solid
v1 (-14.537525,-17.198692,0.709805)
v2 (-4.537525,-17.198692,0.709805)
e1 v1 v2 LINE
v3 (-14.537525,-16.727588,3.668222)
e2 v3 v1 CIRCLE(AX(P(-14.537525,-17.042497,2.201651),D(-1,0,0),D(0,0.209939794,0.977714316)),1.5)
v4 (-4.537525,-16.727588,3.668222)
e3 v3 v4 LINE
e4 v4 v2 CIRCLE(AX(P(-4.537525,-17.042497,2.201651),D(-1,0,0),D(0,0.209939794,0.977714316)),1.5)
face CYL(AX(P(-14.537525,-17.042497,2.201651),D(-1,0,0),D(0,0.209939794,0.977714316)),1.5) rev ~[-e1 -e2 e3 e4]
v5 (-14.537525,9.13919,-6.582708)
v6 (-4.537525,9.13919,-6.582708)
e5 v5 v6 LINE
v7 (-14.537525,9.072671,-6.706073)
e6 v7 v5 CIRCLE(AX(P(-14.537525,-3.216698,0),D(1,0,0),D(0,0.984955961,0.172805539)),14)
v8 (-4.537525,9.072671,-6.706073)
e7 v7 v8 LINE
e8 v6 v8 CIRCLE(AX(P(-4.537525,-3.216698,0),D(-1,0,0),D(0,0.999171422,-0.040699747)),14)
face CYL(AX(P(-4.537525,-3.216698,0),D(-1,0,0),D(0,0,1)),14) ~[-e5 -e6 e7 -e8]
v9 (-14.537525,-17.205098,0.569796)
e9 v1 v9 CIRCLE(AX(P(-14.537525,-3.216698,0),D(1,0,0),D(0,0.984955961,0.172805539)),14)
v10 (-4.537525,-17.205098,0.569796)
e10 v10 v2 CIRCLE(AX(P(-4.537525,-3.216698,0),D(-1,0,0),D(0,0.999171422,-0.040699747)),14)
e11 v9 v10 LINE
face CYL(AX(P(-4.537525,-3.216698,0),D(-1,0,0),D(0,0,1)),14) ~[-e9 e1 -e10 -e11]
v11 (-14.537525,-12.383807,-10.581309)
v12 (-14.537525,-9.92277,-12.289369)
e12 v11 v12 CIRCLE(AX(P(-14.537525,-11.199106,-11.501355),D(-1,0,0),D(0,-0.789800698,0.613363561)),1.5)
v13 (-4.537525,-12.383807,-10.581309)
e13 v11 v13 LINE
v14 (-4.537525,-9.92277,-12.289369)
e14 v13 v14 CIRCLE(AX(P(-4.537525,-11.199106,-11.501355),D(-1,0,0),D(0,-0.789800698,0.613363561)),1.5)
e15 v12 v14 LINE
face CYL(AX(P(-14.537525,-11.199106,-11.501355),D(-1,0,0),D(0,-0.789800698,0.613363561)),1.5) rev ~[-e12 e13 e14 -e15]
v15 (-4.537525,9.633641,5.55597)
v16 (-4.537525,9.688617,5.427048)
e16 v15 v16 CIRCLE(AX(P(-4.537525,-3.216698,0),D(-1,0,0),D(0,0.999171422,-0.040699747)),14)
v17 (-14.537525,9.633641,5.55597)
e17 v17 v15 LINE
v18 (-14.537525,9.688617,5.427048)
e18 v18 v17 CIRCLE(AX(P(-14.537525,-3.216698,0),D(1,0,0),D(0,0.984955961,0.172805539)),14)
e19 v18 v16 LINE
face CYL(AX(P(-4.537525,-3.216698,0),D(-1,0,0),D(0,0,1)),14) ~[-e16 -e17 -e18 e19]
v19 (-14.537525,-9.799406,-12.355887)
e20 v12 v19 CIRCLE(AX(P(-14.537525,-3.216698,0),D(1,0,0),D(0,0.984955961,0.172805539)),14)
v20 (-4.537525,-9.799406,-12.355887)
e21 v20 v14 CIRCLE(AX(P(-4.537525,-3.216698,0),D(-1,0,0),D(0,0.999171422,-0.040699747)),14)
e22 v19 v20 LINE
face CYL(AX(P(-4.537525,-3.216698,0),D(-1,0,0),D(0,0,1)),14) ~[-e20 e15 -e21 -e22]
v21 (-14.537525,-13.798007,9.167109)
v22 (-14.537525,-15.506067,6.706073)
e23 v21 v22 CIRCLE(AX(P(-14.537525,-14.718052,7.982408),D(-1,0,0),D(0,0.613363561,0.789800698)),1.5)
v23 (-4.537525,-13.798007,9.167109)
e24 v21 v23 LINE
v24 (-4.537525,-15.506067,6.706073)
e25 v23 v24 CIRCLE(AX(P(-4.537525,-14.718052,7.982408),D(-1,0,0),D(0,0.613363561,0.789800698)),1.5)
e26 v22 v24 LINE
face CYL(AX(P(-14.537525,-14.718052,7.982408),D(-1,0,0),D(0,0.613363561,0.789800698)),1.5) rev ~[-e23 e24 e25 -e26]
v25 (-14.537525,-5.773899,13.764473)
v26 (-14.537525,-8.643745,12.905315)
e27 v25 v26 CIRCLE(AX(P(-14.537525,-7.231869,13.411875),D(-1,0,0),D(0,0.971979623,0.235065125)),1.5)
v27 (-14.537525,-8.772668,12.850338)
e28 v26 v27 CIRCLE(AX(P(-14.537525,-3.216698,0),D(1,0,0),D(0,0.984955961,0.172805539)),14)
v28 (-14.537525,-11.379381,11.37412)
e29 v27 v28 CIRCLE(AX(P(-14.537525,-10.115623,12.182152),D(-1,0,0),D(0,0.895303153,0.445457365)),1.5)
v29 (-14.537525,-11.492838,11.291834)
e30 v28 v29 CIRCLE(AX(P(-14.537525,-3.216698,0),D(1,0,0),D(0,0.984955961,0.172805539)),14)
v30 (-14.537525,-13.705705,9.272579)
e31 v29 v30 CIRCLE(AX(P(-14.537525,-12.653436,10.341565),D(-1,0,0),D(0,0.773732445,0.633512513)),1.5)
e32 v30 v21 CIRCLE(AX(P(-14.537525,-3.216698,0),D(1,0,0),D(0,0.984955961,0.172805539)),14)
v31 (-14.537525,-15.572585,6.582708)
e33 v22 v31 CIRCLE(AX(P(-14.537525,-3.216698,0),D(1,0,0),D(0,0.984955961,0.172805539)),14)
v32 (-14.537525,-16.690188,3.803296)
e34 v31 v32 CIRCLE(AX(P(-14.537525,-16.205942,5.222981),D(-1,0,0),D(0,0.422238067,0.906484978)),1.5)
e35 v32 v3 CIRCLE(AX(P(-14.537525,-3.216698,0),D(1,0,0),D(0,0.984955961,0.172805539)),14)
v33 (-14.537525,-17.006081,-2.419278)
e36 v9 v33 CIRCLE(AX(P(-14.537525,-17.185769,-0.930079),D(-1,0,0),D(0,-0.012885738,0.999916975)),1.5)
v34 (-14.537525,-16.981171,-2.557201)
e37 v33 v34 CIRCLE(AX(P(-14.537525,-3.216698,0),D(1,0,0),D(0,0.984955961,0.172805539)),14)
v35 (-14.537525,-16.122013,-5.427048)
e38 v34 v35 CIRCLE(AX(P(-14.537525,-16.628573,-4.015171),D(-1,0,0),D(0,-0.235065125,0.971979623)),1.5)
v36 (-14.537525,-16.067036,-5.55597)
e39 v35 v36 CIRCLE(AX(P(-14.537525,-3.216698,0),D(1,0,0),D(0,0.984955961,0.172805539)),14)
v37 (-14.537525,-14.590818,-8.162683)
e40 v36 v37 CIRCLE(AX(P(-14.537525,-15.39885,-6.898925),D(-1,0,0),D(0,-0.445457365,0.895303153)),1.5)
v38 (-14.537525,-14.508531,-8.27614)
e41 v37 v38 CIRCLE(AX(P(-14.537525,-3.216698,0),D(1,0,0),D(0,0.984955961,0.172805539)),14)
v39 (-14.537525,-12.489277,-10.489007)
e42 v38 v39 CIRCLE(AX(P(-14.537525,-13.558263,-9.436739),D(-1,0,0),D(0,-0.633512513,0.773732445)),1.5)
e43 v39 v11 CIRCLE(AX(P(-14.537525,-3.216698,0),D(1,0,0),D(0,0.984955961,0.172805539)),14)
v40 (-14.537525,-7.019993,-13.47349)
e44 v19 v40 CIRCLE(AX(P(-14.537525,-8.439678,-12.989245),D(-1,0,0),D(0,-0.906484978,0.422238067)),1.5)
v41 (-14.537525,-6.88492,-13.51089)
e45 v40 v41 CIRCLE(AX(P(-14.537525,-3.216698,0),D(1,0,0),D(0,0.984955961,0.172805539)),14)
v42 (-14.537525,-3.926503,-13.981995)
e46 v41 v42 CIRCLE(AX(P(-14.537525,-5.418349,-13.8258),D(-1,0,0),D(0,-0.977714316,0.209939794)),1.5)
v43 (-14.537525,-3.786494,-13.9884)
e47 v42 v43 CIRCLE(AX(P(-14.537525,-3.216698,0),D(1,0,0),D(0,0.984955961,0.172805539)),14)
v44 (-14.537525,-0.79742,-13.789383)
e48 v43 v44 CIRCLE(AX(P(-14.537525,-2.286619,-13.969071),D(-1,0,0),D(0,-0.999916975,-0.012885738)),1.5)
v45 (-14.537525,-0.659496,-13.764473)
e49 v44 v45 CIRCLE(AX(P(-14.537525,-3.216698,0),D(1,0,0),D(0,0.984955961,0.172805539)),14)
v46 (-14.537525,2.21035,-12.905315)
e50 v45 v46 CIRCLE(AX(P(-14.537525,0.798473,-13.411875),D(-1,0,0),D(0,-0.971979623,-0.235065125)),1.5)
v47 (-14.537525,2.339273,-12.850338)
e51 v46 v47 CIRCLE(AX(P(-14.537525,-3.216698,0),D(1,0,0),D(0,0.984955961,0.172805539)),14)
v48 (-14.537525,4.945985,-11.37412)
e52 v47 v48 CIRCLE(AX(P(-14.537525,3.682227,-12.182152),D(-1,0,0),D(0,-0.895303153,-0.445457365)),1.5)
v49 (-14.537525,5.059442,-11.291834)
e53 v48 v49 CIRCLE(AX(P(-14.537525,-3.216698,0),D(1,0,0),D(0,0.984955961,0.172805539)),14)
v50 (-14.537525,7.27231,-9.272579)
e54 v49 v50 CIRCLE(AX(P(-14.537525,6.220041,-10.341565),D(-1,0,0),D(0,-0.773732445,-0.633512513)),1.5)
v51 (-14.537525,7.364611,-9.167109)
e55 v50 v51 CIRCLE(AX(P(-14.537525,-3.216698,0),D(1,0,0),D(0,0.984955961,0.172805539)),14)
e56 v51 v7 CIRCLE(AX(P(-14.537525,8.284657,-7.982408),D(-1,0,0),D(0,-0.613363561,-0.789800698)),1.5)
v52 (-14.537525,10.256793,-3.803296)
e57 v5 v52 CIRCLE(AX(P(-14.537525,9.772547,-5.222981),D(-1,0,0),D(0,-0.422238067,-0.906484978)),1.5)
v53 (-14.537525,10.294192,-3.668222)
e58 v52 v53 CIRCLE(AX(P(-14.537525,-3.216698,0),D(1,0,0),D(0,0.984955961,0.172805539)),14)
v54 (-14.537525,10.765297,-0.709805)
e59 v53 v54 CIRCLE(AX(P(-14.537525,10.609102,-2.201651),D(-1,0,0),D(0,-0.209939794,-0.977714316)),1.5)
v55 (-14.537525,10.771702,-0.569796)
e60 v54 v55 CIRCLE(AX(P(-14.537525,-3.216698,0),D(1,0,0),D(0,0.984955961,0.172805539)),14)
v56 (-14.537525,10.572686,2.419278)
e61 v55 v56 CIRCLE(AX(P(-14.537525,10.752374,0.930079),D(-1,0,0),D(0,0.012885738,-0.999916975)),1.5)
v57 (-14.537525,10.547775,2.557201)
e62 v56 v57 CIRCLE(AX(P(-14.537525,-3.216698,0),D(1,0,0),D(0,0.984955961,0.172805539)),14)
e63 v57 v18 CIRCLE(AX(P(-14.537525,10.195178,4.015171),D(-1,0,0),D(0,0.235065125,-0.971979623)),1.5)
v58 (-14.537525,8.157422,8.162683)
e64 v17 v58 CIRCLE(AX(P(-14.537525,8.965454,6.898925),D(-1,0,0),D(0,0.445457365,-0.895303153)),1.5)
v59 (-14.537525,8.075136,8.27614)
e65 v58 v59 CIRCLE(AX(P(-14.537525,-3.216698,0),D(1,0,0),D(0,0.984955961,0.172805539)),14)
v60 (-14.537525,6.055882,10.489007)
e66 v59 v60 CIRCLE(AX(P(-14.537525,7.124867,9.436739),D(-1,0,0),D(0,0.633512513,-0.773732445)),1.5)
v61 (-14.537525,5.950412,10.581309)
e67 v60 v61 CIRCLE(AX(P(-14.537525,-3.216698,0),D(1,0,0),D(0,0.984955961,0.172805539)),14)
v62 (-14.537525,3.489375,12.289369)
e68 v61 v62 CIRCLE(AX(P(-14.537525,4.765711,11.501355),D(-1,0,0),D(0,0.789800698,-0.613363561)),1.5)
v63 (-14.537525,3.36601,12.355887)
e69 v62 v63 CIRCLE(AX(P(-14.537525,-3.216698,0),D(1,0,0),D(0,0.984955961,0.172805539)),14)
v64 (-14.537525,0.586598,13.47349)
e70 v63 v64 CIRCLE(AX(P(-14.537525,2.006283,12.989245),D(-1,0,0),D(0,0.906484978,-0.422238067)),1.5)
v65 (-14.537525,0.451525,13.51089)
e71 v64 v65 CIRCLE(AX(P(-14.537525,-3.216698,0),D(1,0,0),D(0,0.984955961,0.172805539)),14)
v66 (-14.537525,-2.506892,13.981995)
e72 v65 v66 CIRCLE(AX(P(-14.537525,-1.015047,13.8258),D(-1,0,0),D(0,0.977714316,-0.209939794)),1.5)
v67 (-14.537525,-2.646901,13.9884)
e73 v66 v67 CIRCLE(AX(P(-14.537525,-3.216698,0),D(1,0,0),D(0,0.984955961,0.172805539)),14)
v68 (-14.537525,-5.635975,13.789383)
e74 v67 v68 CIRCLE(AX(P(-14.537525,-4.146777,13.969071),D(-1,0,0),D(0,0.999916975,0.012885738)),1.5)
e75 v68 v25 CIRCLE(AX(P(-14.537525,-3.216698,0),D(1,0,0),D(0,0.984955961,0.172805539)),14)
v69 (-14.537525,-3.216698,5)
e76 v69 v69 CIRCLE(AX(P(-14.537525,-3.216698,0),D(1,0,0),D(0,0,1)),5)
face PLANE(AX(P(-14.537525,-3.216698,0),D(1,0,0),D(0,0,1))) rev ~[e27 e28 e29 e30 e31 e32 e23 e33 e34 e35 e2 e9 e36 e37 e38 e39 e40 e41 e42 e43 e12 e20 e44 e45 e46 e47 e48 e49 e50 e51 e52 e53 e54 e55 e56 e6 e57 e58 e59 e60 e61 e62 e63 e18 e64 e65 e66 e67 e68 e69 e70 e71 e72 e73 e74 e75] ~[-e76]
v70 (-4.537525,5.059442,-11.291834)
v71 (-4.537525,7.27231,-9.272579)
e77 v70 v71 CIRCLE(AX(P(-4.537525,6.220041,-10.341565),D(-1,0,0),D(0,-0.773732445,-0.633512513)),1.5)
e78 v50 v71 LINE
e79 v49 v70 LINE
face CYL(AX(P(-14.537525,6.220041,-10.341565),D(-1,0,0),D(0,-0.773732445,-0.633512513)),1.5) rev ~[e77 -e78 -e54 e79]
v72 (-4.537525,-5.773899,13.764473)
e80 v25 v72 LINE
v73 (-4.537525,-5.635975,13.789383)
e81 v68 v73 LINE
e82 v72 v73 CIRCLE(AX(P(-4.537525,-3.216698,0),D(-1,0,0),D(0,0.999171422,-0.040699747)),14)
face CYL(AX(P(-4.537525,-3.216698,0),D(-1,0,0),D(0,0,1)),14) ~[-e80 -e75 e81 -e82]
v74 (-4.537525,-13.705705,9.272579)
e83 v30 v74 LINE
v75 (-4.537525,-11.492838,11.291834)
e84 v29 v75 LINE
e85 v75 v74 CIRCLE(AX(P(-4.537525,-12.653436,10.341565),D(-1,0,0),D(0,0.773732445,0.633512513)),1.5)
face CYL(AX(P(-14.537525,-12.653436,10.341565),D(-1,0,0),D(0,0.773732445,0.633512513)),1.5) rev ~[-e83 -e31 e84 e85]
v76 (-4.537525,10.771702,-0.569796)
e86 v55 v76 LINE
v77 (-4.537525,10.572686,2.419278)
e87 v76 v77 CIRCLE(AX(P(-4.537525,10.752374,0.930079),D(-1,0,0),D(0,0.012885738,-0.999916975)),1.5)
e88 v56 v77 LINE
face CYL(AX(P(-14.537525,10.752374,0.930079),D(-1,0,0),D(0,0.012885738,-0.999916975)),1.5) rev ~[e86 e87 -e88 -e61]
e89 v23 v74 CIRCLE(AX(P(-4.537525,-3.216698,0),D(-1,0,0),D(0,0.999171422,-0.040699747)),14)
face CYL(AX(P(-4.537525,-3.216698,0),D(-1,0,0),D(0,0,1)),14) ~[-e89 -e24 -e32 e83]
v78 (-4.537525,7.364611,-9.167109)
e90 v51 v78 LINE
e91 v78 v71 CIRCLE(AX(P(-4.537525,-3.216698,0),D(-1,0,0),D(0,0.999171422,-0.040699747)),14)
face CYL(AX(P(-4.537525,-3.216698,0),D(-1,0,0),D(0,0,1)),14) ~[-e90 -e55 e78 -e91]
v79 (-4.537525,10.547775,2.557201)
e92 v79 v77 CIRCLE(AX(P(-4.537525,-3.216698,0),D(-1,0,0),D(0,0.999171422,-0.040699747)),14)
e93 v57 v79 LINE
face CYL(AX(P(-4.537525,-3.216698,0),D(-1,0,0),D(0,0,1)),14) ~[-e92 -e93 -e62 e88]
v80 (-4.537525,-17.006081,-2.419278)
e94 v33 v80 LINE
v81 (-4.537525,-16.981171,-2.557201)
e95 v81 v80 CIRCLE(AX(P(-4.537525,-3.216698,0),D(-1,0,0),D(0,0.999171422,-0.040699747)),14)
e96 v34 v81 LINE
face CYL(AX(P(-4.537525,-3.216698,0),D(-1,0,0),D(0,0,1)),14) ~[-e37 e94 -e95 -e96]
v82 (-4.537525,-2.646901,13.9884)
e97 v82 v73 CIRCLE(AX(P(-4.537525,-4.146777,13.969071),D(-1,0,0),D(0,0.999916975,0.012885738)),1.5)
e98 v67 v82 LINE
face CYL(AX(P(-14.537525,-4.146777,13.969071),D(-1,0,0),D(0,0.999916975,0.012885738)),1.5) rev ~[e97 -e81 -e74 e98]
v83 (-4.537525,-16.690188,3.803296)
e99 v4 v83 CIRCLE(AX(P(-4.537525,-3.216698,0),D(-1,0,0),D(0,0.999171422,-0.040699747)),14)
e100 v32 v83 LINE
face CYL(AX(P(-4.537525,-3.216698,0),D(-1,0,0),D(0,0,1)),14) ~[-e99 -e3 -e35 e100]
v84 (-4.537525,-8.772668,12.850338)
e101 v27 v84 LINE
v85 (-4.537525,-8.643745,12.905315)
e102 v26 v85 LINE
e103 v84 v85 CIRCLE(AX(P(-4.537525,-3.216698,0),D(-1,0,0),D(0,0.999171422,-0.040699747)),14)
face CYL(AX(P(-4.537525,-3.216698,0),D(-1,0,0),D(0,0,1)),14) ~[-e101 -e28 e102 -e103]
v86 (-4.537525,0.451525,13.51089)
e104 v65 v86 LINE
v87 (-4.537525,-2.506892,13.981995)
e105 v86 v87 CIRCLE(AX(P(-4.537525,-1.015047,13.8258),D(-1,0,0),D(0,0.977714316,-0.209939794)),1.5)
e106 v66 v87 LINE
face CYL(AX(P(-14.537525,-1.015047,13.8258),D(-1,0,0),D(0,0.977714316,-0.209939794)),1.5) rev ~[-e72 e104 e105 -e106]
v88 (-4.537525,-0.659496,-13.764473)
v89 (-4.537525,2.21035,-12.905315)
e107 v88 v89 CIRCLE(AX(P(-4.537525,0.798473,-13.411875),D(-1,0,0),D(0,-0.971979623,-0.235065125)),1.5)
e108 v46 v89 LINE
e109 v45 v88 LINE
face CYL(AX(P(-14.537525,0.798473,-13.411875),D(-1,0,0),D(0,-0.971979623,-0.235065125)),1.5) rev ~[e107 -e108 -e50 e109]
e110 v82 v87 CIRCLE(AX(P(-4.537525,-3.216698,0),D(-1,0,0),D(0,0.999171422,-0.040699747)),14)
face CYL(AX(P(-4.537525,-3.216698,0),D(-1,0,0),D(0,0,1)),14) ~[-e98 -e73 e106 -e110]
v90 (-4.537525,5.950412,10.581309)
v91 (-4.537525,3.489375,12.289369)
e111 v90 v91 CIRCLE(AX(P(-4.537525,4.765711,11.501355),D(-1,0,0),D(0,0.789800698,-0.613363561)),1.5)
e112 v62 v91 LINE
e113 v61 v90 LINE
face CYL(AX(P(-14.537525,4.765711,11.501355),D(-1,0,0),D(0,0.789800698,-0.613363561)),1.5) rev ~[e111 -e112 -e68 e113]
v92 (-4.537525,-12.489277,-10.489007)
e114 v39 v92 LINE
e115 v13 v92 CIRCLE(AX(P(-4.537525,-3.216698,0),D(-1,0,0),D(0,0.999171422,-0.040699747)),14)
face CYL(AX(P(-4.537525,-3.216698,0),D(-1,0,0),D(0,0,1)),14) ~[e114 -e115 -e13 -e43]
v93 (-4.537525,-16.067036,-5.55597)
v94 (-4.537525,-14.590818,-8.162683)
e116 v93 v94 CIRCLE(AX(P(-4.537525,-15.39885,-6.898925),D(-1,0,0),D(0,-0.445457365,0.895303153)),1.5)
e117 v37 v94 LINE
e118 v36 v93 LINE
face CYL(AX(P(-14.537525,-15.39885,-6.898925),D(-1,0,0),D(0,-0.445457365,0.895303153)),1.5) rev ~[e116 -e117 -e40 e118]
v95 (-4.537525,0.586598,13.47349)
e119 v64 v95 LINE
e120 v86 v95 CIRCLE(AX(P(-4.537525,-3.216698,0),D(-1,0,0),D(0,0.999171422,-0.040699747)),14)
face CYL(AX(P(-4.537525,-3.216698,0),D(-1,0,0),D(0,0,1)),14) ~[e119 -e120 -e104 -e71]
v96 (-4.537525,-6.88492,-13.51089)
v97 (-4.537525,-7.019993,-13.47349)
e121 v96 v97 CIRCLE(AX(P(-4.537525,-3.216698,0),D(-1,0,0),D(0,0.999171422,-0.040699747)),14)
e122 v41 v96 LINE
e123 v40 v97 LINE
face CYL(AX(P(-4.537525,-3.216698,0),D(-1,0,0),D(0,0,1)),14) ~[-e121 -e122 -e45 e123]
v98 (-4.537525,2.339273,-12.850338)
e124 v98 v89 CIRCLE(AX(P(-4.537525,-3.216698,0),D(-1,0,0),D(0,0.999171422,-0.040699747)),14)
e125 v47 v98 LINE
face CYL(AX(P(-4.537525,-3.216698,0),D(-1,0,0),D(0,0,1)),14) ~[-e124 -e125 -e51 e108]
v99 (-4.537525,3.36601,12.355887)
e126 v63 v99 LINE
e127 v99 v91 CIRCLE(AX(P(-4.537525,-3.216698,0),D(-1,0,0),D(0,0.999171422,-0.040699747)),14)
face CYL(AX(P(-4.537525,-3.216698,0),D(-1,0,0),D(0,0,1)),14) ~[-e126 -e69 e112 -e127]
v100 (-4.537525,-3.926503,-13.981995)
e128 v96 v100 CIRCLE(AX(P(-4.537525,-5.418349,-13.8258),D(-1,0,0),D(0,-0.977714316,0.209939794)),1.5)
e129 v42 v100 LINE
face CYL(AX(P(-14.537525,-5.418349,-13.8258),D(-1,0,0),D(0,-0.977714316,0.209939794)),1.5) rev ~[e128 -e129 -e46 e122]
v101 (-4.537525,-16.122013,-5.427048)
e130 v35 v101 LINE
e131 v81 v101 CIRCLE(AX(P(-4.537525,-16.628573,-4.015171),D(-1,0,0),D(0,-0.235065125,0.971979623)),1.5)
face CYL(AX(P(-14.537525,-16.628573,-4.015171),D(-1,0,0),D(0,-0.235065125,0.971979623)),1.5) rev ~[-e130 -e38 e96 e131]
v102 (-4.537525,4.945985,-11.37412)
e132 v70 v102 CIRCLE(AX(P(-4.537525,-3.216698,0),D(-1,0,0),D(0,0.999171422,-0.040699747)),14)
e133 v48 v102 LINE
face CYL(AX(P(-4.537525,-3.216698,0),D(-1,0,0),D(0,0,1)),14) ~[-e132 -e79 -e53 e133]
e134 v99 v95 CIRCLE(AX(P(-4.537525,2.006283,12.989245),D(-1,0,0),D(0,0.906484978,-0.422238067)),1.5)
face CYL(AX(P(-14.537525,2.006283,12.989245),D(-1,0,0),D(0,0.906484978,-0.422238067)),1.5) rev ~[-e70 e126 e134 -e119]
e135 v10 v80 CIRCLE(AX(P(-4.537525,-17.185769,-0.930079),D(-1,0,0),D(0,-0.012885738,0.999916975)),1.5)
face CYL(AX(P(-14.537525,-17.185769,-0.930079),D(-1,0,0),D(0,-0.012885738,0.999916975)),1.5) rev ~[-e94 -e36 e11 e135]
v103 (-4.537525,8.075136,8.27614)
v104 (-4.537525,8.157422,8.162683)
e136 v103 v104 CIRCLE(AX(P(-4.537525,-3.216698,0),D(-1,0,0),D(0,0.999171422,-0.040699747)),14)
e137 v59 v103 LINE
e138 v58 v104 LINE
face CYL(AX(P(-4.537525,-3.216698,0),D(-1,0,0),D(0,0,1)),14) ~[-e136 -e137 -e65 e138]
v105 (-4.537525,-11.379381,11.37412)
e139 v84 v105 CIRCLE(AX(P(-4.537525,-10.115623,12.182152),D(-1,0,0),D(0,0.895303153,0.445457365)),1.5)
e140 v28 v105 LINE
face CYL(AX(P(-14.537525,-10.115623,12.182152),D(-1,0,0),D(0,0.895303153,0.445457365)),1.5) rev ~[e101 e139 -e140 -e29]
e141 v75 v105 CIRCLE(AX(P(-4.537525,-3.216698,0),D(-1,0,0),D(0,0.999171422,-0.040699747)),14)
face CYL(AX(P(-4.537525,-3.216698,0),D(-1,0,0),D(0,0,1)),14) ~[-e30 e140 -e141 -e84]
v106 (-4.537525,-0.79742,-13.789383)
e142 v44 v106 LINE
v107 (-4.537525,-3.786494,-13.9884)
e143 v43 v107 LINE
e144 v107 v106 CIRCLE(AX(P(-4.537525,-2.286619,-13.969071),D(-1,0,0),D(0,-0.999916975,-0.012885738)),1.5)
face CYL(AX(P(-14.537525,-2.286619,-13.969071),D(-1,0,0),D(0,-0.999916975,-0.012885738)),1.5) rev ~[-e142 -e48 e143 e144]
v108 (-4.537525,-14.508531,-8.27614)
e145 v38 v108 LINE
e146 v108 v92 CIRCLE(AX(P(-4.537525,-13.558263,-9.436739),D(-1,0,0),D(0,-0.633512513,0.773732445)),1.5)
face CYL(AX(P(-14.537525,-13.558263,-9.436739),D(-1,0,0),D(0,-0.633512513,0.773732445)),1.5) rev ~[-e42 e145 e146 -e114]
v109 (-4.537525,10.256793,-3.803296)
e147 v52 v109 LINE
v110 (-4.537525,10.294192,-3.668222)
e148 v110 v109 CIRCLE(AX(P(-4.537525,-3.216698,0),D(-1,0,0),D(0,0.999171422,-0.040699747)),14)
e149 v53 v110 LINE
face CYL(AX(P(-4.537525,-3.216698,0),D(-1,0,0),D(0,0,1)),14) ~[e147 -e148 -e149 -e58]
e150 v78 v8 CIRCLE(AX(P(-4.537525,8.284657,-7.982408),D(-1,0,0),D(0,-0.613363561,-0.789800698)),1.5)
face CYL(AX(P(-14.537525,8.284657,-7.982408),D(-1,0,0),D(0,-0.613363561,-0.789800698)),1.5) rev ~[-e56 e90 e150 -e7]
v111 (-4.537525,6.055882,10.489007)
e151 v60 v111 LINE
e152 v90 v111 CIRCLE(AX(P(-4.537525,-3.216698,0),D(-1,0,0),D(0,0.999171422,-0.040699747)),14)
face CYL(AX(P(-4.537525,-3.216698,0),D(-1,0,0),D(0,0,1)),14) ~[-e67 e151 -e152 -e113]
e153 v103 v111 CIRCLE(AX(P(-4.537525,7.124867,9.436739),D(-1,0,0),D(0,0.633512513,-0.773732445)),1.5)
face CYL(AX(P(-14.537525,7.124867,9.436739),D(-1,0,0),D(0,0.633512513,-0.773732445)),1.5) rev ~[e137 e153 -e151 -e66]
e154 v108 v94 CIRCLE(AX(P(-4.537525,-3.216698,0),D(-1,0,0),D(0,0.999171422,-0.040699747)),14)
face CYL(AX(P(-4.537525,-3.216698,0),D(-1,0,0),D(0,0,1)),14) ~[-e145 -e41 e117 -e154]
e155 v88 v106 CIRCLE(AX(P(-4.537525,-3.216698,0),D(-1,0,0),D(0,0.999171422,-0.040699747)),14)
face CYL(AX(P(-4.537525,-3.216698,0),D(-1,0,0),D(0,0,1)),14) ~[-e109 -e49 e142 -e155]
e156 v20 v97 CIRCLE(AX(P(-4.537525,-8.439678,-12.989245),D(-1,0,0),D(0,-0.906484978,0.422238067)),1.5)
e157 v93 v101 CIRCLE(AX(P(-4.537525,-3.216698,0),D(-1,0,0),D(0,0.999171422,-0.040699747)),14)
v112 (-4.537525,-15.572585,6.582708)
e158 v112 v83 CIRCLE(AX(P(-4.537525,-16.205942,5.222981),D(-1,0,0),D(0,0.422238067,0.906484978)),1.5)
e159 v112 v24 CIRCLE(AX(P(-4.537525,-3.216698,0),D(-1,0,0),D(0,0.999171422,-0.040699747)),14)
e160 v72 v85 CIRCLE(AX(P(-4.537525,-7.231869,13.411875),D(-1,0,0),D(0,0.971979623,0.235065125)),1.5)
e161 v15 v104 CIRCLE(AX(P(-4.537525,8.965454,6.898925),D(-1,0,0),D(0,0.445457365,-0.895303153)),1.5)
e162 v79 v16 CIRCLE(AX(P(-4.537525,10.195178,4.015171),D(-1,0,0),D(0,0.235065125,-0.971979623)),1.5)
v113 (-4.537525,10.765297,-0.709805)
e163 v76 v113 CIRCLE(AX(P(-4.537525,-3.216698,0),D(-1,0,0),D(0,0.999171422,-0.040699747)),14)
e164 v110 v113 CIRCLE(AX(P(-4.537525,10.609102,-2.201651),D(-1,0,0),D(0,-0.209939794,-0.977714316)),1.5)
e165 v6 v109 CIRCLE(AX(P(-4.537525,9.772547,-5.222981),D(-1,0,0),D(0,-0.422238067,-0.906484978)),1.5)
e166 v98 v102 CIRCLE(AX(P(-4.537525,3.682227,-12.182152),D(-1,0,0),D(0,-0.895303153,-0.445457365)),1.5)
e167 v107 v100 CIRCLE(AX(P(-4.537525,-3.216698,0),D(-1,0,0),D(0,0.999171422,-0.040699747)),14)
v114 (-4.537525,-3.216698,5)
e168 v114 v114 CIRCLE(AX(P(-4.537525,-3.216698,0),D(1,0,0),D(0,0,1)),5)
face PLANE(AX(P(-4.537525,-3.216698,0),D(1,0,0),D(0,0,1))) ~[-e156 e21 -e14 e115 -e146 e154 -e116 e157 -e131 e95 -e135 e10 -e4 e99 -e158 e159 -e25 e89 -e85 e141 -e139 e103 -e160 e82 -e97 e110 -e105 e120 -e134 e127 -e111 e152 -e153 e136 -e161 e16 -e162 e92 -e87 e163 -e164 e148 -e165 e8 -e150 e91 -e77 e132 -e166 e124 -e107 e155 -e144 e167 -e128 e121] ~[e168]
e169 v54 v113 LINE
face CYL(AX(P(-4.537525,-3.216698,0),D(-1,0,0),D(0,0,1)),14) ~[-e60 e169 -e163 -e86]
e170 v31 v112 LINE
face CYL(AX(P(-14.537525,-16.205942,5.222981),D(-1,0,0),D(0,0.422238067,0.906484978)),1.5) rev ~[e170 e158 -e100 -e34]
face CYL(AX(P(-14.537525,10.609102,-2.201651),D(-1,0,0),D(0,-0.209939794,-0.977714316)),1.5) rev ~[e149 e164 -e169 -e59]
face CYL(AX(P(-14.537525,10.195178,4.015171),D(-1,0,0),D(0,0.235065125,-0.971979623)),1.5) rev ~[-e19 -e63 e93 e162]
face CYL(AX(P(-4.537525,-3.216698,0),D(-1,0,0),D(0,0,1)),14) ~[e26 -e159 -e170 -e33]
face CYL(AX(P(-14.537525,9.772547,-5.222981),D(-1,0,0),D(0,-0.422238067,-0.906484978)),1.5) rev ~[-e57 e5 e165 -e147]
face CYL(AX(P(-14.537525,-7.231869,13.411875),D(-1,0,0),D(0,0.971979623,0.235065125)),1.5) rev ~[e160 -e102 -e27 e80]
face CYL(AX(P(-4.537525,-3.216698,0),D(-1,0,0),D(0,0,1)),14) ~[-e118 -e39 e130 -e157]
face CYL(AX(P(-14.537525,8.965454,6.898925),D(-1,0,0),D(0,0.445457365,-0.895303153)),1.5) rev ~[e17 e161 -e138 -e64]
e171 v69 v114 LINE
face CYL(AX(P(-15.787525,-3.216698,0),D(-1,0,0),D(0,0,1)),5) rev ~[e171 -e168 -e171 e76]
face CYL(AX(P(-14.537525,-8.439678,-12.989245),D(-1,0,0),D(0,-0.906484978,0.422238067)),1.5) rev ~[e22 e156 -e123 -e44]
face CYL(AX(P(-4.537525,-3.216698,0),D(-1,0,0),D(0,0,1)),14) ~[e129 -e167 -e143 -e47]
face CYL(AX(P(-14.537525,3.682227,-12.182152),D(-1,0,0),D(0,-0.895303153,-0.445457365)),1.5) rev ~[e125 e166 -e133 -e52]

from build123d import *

# Parameters (mm, degrees)
CUT_EXTRUDE_1_DEPTH      = 10
PATTERN_CIRCULAR_2_COUNT = 28
SKETCH_3_R               = 5
CUT_EXTRUDE_2_DEPTH      = 26.454679665


with BuildPart() as part:
    # 草图1 → 旋转1 (revolve)
    with BuildSketch(Plane.XY, mode=Mode.PRIVATE) as revolve_1_sk:
        Polygon((-4.537524852, 10.783302268), (-14.537524852, 10.783302268), (-14.537524852, 1.783302268), (-15.787524852, 1.783302268), (-15.787524852, -3.216697732), (-3.287524852, -3.216697732), (-3.287524852, 1.783302268), (-4.537524852, 1.783302268), align=None)
    revolve(revolve_1_sk.sketch.rotate(Axis((-37.951477077, -3.216697732, 0), (1, 0, 0)), 90), axis=Axis((-37.951477077, -3.216697732, 0), (1, 0, 0)))

    # 草图2 → 切除-拉伸1 (cut)
    with BuildSketch(Plane.ZY.offset(14.537524852)):
        with BuildLine():
            Line((0.390901935, 85.320682721), (-0.569796452, 10.771702176))
            ThreePointArc((-0.569796452, 10.771702176), (0.830427689, 9.255687358), (2.419277547, 10.572685726))
            Line((2.419277547, 10.572685726), (11.35038276, 84.590986174))
            Line((11.35038276, 84.590986174), (21.256411219, 233.371913604))
            Line((21.256411219, 233.371913604), (10.296930394, 234.10161015))
            Line((10.296930394, 234.10161015), (0.390901935, 85.320682721))
        make_face()
    cut_extrude_1 = extrude(amount=-CUT_EXTRUDE_1_DEPTH, mode=Mode.SUBTRACT)

    # 阵列(圆周)2: 切除-拉伸1 ×28 about axis
    pattern_circular_2_axis = Axis((0, -3.216697732, 0), (1, 0, 0))
    for i in range(1, PATTERN_CIRCULAR_2_COUNT):
        add(cut_extrude_1.rotate(pattern_circular_2_axis, i * 360 / PATTERN_CIRCULAR_2_COUNT), mode=Mode.SUBTRACT)

    # 草图3 → 切除-拉伸2 (cut, through all)
    with BuildSketch(Plane.ZY.offset(15.787524852)):
        with Locations((0, -3.216697732)):
            Circle(SKETCH_3_R)
    extrude(amount=-CUT_EXTRUDE_2_DEPTH, mode=Mode.SUBTRACT)


solid = part.part
